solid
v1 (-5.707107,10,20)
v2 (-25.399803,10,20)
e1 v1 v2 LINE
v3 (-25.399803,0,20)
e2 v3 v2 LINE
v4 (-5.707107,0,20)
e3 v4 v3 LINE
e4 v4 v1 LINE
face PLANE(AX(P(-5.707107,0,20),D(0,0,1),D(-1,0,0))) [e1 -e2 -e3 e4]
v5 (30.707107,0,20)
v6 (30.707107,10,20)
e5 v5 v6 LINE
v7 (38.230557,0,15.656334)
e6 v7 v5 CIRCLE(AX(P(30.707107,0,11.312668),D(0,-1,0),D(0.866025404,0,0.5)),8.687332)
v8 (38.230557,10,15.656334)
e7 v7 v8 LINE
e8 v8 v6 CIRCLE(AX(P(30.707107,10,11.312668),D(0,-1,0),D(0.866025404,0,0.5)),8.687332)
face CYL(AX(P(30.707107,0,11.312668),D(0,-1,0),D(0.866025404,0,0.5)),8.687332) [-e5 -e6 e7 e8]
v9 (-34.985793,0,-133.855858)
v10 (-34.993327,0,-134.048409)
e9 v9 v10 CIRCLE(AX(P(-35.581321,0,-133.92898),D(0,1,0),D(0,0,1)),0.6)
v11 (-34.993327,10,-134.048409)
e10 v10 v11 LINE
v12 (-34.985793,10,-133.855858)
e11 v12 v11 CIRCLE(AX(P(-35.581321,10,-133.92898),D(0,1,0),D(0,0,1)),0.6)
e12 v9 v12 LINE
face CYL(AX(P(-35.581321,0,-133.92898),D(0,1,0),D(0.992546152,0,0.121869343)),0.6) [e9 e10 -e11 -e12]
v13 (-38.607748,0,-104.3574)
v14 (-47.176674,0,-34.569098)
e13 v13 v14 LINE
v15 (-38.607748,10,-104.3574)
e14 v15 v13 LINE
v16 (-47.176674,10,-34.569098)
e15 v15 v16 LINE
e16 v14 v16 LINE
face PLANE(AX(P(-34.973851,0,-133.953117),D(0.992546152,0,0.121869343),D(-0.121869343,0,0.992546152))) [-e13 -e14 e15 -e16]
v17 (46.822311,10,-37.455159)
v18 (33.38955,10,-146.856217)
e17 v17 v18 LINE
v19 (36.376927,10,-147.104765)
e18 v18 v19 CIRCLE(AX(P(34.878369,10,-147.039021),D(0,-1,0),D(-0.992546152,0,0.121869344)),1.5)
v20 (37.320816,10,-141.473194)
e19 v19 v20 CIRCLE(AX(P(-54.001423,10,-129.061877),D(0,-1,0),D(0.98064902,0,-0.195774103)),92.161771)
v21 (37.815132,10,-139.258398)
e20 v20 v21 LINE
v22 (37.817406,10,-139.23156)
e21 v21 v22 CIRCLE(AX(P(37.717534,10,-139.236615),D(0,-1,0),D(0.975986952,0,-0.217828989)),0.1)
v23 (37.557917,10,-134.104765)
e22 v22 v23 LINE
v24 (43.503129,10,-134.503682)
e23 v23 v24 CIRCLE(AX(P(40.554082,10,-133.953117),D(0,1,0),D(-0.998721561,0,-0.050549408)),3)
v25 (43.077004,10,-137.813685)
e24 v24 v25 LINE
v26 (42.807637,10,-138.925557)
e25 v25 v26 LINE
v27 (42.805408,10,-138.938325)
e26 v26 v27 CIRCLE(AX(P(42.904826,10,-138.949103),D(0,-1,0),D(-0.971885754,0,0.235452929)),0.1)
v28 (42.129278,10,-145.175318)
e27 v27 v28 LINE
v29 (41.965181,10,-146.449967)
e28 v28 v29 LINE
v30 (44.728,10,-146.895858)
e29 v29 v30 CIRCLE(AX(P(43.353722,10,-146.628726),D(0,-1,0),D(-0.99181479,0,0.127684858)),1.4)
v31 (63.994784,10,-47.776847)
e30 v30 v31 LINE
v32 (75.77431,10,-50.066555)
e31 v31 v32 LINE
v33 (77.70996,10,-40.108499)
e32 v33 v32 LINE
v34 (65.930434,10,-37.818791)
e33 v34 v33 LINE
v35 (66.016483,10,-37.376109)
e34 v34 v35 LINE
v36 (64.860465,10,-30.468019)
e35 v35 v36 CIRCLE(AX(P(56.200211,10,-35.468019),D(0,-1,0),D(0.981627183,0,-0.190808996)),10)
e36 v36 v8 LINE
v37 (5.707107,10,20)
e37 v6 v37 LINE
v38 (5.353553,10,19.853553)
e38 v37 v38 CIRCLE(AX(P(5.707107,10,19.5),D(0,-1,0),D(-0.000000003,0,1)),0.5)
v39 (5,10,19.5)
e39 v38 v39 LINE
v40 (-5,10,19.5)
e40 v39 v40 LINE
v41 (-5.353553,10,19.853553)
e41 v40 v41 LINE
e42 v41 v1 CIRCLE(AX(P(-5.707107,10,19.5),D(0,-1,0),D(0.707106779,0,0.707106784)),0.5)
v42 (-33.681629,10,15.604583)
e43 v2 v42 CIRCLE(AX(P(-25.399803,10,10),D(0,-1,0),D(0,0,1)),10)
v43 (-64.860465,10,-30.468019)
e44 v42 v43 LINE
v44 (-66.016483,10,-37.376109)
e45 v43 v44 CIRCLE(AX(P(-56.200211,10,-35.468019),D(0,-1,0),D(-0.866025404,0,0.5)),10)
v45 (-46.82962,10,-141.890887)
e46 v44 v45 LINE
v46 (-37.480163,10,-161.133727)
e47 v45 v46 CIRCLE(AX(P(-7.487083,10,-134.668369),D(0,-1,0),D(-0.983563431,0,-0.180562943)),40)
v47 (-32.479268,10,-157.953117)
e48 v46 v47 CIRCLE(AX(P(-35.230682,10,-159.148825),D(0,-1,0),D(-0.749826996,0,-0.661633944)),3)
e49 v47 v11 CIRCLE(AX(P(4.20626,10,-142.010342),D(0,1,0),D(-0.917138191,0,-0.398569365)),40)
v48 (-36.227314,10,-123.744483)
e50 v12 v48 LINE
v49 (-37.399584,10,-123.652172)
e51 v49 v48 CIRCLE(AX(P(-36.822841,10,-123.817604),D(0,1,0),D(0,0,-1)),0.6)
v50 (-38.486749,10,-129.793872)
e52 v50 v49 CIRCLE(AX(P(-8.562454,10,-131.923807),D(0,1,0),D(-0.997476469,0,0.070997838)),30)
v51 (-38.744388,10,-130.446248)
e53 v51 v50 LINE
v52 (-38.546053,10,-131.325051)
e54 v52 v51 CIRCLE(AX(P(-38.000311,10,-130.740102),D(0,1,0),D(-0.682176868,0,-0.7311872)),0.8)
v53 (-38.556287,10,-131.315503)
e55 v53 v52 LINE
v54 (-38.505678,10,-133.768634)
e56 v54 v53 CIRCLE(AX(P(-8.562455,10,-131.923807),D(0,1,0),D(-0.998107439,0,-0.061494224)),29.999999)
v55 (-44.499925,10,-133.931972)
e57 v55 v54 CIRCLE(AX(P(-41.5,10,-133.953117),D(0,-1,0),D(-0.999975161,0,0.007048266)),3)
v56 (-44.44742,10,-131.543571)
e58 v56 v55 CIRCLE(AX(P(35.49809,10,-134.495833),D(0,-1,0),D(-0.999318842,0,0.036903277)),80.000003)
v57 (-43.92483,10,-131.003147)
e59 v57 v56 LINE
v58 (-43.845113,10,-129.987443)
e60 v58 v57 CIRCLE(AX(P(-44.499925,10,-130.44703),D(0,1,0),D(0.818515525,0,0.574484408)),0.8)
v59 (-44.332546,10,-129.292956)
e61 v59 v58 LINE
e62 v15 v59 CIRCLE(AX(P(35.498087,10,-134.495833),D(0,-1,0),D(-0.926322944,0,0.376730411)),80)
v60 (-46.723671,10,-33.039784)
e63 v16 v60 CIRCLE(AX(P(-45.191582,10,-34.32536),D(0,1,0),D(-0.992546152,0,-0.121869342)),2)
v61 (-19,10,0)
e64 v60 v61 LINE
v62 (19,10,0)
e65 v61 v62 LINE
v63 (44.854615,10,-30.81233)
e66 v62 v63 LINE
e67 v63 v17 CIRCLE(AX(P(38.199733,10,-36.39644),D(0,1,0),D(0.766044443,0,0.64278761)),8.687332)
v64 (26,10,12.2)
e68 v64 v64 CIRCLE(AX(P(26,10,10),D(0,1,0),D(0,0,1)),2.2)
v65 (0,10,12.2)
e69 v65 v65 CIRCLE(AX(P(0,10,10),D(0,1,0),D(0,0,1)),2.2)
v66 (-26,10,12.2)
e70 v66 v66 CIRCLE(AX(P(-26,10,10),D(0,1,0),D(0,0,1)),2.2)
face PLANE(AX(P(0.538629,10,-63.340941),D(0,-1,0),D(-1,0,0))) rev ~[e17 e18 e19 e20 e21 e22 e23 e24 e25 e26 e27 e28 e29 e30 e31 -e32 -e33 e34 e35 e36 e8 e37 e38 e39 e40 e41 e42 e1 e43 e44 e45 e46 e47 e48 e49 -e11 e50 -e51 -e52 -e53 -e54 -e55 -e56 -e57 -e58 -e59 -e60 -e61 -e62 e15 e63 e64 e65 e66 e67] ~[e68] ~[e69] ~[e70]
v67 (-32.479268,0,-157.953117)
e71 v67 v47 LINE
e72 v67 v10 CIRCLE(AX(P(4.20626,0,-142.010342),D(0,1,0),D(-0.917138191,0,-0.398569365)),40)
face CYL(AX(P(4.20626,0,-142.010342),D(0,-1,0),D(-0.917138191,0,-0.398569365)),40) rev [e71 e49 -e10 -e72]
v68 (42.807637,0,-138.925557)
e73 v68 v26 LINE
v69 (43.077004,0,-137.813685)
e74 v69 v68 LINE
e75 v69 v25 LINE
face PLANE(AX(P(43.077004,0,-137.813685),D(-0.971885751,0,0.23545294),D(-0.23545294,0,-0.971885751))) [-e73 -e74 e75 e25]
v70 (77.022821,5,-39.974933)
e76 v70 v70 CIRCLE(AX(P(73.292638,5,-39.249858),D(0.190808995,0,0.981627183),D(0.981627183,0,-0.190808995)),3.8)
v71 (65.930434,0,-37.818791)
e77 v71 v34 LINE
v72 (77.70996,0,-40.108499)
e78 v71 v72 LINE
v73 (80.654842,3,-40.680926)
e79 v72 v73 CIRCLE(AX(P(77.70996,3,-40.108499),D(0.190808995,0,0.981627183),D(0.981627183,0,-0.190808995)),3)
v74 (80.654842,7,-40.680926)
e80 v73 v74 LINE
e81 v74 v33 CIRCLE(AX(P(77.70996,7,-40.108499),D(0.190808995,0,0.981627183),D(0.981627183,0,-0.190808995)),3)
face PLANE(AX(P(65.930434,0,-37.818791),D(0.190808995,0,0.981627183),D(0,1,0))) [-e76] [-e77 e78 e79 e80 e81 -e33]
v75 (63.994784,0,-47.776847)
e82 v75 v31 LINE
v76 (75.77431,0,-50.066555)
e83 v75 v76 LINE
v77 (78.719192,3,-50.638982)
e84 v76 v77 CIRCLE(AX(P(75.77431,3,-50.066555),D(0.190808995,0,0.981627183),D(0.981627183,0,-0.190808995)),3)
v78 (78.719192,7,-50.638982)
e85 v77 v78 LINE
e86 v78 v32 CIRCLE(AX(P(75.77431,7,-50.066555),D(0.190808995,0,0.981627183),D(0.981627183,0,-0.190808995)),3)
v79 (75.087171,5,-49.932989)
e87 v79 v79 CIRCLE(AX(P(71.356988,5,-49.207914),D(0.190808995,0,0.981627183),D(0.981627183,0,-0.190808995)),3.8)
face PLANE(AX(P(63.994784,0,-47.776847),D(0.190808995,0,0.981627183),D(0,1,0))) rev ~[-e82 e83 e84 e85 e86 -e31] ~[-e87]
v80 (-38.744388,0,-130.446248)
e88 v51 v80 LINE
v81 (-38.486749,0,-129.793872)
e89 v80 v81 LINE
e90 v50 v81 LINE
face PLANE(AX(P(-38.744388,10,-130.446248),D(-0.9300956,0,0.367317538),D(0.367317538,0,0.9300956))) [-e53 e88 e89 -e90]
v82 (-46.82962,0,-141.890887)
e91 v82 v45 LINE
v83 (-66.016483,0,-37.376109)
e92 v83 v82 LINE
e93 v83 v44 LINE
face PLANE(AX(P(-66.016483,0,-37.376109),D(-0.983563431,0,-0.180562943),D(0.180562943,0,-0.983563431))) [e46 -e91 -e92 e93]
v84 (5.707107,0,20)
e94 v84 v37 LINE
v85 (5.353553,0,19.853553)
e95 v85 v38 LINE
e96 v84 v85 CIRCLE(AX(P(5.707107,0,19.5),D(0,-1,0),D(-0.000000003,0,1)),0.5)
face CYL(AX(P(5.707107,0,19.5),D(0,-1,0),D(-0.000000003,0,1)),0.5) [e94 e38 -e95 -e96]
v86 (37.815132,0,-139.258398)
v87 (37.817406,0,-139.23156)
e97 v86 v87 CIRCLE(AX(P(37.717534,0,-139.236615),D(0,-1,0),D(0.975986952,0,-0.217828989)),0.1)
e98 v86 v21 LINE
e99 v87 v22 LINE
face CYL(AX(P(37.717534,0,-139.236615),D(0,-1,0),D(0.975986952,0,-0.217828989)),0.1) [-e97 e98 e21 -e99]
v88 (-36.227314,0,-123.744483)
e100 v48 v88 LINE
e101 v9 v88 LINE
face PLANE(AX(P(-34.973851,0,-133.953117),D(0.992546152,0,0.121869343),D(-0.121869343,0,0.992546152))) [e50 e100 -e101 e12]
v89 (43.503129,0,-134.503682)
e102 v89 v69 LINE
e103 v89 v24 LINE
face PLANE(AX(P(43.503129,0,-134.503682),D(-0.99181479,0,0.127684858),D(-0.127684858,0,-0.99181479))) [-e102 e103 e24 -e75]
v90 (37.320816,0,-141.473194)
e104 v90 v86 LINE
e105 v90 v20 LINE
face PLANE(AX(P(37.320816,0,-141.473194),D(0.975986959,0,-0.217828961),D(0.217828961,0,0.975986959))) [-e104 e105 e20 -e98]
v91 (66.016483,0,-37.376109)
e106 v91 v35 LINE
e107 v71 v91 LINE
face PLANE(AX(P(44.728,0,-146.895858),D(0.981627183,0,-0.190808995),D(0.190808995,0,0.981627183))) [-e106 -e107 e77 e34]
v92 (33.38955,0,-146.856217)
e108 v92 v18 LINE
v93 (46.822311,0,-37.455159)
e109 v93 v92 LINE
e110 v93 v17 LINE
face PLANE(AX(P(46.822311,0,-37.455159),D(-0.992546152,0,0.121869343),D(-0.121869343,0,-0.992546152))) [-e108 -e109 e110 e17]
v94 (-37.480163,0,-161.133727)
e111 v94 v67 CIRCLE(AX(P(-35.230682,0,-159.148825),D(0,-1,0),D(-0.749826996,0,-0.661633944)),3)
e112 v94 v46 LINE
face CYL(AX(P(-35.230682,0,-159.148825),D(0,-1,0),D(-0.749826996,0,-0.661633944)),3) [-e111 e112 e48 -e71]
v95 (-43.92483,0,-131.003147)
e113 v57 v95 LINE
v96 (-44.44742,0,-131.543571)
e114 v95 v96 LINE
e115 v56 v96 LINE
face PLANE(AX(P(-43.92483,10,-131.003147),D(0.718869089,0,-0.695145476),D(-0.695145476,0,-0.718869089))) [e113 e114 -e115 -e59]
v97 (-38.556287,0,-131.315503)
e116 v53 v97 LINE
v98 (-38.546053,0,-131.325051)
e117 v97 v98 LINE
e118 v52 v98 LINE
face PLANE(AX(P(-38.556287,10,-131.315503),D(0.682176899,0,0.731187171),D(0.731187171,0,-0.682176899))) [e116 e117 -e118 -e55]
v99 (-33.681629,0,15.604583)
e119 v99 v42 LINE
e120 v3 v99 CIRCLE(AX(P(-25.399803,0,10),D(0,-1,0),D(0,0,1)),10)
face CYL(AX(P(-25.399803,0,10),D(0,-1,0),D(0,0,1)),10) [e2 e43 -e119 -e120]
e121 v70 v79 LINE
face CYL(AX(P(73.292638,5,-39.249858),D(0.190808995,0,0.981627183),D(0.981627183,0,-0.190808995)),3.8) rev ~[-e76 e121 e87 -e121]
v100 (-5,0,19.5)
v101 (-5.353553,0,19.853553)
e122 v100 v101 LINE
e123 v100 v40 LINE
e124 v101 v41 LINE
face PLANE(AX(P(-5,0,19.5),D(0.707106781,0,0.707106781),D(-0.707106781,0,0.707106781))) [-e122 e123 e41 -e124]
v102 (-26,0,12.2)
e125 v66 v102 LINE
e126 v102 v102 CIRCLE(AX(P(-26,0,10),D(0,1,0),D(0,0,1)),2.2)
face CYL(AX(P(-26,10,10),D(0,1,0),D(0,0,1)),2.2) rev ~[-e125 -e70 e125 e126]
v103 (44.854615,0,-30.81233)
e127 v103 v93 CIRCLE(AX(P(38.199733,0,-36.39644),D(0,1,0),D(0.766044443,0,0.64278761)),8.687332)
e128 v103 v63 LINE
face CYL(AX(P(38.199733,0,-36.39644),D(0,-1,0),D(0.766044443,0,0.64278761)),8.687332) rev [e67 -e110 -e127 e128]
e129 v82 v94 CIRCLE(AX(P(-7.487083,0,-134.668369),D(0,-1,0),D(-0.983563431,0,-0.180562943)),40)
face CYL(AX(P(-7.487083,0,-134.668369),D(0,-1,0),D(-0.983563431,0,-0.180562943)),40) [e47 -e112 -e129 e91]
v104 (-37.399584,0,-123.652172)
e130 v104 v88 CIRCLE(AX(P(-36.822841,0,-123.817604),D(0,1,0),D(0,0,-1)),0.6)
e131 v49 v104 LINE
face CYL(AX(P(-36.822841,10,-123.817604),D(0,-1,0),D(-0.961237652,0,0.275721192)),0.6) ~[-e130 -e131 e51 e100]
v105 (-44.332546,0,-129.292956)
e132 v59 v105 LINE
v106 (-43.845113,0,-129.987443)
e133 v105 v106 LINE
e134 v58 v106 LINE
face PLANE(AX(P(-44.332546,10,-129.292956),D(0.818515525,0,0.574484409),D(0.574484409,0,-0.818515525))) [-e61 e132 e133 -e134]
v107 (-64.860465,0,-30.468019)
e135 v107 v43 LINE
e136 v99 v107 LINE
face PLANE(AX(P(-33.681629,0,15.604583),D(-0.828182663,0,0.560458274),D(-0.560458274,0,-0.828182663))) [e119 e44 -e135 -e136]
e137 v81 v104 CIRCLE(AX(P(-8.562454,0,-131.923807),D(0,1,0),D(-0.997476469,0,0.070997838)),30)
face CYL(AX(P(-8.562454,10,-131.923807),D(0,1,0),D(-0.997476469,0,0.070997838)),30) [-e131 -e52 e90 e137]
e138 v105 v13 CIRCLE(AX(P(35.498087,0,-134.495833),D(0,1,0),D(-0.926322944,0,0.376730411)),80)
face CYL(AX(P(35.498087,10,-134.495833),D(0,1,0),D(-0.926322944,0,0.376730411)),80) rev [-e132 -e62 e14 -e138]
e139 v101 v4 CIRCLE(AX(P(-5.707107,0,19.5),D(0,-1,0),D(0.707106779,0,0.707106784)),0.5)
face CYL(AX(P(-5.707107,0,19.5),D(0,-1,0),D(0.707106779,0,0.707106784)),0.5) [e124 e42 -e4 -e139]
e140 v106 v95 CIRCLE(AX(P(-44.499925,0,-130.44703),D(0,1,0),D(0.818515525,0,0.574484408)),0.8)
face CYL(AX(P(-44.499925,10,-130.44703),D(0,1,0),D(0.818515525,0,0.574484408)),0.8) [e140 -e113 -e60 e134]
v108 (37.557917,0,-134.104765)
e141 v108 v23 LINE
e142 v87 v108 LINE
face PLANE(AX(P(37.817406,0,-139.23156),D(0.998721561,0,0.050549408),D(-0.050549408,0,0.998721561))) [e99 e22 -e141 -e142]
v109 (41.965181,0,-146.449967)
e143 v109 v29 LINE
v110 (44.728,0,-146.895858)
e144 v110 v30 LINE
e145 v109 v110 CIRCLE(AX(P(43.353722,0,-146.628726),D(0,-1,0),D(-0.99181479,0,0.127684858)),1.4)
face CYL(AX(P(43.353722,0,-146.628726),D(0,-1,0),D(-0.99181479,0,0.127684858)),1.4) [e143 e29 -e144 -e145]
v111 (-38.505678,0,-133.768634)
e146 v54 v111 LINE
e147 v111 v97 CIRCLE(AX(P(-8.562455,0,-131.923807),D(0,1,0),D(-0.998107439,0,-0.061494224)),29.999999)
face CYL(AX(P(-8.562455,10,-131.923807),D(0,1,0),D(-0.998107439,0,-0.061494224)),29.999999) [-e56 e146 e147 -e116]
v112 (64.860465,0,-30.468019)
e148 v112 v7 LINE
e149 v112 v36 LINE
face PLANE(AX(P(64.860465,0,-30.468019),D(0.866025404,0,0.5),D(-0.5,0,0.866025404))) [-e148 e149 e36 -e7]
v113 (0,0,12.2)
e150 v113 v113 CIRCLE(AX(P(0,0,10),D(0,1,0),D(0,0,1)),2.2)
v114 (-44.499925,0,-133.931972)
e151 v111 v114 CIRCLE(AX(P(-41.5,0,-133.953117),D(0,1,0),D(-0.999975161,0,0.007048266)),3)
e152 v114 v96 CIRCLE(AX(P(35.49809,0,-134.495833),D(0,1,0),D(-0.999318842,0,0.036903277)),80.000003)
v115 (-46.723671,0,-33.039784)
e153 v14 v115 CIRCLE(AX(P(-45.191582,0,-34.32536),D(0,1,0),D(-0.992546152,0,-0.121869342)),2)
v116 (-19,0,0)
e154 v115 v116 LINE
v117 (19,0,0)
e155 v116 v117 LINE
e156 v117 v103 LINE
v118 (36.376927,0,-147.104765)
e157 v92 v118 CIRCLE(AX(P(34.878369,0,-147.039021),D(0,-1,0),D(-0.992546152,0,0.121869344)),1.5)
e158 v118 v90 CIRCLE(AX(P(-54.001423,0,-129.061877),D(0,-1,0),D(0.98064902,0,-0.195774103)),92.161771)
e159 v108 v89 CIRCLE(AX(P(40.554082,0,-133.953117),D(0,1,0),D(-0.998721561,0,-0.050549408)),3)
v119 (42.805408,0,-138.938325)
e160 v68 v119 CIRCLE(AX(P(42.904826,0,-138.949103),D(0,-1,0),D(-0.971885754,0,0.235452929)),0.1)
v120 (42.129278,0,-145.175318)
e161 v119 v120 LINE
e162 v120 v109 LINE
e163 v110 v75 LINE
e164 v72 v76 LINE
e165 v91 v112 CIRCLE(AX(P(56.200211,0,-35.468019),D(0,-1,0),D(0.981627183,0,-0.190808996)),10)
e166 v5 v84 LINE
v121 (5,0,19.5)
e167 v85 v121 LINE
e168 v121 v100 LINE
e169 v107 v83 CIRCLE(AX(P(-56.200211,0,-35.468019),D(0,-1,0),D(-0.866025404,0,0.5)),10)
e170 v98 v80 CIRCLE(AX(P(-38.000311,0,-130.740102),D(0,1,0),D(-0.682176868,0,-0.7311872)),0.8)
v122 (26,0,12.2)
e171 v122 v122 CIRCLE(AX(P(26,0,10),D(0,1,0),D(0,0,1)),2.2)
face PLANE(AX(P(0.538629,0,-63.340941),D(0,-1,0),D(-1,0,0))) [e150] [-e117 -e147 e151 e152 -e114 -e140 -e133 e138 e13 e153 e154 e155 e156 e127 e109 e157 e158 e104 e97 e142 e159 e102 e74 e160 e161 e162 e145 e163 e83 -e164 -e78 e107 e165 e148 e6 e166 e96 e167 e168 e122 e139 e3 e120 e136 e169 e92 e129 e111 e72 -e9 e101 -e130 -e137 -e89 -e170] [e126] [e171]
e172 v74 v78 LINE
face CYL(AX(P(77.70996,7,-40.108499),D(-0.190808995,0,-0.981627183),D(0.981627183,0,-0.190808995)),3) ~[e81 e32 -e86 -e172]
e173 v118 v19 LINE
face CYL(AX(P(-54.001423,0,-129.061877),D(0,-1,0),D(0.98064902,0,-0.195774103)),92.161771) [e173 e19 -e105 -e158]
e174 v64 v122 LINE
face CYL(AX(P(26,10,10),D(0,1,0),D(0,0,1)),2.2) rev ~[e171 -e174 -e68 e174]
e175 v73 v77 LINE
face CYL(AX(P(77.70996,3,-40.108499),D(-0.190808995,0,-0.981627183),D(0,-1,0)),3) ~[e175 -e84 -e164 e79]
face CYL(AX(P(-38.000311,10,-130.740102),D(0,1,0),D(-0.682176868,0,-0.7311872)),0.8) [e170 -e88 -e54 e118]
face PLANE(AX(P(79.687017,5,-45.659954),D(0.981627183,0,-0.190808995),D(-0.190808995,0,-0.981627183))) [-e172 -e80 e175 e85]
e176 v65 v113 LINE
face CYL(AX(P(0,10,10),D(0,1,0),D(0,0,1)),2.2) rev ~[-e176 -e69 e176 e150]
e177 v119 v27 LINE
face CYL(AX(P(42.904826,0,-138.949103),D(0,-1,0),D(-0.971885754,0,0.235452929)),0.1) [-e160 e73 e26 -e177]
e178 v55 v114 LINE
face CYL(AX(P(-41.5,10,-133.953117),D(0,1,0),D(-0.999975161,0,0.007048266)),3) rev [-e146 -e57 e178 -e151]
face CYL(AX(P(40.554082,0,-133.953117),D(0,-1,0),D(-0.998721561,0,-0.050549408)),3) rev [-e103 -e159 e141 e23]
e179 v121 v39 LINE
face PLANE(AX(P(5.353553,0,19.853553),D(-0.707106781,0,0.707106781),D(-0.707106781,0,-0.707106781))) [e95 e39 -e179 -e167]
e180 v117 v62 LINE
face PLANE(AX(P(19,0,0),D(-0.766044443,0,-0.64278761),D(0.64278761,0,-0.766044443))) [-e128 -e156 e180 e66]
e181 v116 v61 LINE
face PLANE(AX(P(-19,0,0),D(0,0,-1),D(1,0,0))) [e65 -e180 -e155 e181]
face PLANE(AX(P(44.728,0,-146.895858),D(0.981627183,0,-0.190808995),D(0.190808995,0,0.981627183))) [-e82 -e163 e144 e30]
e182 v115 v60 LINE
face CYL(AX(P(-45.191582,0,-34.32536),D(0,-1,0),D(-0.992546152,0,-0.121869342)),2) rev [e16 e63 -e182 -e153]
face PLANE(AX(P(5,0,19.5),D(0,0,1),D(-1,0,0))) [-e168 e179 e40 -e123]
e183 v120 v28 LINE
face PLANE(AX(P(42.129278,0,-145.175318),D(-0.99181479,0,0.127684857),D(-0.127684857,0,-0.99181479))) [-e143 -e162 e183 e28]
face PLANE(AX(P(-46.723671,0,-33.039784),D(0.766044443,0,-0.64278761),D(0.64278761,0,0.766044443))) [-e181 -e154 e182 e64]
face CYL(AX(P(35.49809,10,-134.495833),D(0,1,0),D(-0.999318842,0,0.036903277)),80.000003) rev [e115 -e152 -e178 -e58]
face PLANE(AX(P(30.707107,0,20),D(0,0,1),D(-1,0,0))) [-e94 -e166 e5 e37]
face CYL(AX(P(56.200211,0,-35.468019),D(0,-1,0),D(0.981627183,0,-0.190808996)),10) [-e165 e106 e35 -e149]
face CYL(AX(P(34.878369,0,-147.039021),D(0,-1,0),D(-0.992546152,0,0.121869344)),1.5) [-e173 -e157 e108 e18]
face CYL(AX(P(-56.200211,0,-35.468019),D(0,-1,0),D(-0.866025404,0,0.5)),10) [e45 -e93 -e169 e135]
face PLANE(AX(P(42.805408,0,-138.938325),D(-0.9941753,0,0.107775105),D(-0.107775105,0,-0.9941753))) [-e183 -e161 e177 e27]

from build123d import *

# Parameters (mm, degrees)
EXTRUDE_1_DEPTH     = 10
CUT_EXTRUDE_1_REACH = 177.427
SKETCH_2_R          = 2.2
FILLET_1_R          = 0.6
SKETCH_3_W          = 10.144437824
SKETCH_3_H          = 10
EXTRUDE_2_DEPTH     = 15
CUT_EXTRUDE_2_REACH = 164.61
SKETCH_4_R          = 3.8
FILLET_2_R          = 3


with BuildPart() as part:
    # 草图1 → 凸台-拉伸1 (new body)
    with BuildSketch(Plane(origin=(0, 0, 0), x_dir=(1, 0, 0), z_dir=(0, 1, 0))):
        with BuildLine():
            Line((-19, 0), (19, 0))
            Line((19, 0), (44.854614973, 30.81233028))
            ThreePointArc((44.854614973, 30.81233028), (46.529317931, 33.929104052), (46.82231051, 37.455159084))
            Line((46.82231051, 37.455159084), (33.389549678, 146.856216784))
            ThreePointArc((33.389549678, 146.856216784), (34.753999407, 148.533855984), (36.376927445, 147.104765038))
            ThreePointArc((36.376927445, 147.104765038), (36.892496808, 144.296291333), (37.320815542, 141.473193853))
            Line((37.320815542, 141.473193853), (37.815132232, 139.258398169))
            ThreePointArc((37.815132232, 139.258398169), (37.817176658, 139.245056143), (37.817405692, 139.231560332))
            Line((37.817405692, 139.231560332), (37.557917484, 134.104765038))
            ThreePointArc((37.557917484, 134.104765038), (40.754926912, 130.959847465), (43.503129215, 134.503681536))
            Line((43.503129215, 134.503681536), (43.077003941, 137.813685213))
            Line((43.077003941, 137.813685213), (42.807637334, 138.925557366))
            ThreePointArc((42.807637334, 138.925557366), (42.806315787, 138.931905108), (42.80540838, 138.938325149))
            Line((42.80540838, 138.938325149), (42.129277547, 145.175318139))
            Line((42.129277547, 145.175318139), (41.965181023, 146.44996701))
            ThreePointArc((41.965181023, 146.44996701), (43.130662006, 148.010841711), (44.727999785, 146.895858405))
            Line((44.727999785, 146.895858405), (66.016482503, 37.376109146))
            ThreePointArc((66.016482503, 37.376109146), (66.063066684, 33.817543133), (64.860464706, 30.468019192))
            Line((64.860464706, 30.468019192), (38.23055697, -15.656334008))
            ThreePointArc((38.23055697, -15.656334008), (35.050772773, -18.836118205), (30.707106781, -20))
            Line((30.707106781, -20), (5.707106781, -20))
            ThreePointArc((5.707106781, -20), (5.515765065, -19.961939766), (5.353553391, -19.853553391))
            Line((5.353553391, -19.853553391), (5, -19.5))
            Line((5, -19.5), (-5, -19.5))
            Line((-5, -19.5), (-5.353553391, -19.853553391))
            ThreePointArc((-5.353553391, -19.853553391), (-5.515765065, -19.961939766), (-5.707106781, -20))
            Line((-5.707106781, -20), (-25.399802658, -20))
            ThreePointArc((-25.399802658, -20), (-30.087775174, -18.833058003), (-33.681629288, -15.604582738))
            Line((-33.681629288, -15.604582738), (-64.860464706, 30.468019192))
            ThreePointArc((-64.860464706, 30.468019192), (-66.063066684, 33.817543133), (-66.016482503, 37.376109146))
            Line((-66.016482503, 37.376109146), (-46.829620455, 141.890886738))
            ThreePointArc((-46.829620455, 141.890886738), (-43.465252598, 152.148967586), (-37.480163066, 161.13372674))
            ThreePointArc((-37.480163066, 161.13372674), (-33.620696298, 161.680216975), (-32.479267504, 157.953116813))
            ThreePointArc((-32.479267504, 157.953116813), (-35.579400499, 146.14570295), (-34.973851142, 133.953116813))
            Line((-34.973851142, 133.953116813), (-47.176674229, 34.569098196))
            ThreePointArc((-47.176674229, 34.569098196), (-47.109221395, 33.75732882), (-46.723670812, 33.03978429))
            Line((-46.723670812, 33.03978429), (-19, 0))
        make_face()
    extrude(amount=EXTRUDE_1_DEPTH)

    # 草图2 → 切除-拉伸1 (cut, up to next)
    with BuildSketch(Plane(origin=(0, 10, 0), x_dir=(1, 0, 0), z_dir=(0, 1, 0)), mode=Mode.PRIVATE) as cut_extrude_1_sk1:
        with Locations(Location((0, -10, 0), (0, 0, 270))):
            Circle(SKETCH_2_R)
    cut_extrude_1_tool1 = extrude(cut_extrude_1_sk1.sketch, amount=-CUT_EXTRUDE_1_REACH, mode=Mode.PRIVATE) & part.part
    # 草图2 → 切除-拉伸1 (cut, up to next)
    with BuildSketch(Plane(origin=(0, 10, 0), x_dir=(1, 0, 0), z_dir=(0, 1, 0)), mode=Mode.PRIVATE) as cut_extrude_1_sk2:
        with Locations(Location((-26, -10, 0), (0, 0, 270))):
            Circle(SKETCH_2_R)
    cut_extrude_1_tool2 = extrude(cut_extrude_1_sk2.sketch, amount=-CUT_EXTRUDE_1_REACH, mode=Mode.PRIVATE) & part.part
    # 草图2 → 切除-拉伸1 (cut, up to next)
    with BuildSketch(Plane(origin=(0, 10, 0), x_dir=(1, 0, 0), z_dir=(0, 1, 0)), mode=Mode.PRIVATE) as cut_extrude_1_sk3:
        with Locations(Location((26, -10, 0), (0, 0, 270))):
            Circle(SKETCH_2_R)
    cut_extrude_1_tool3 = extrude(cut_extrude_1_sk3.sketch, amount=-CUT_EXTRUDE_1_REACH, mode=Mode.PRIVATE) & part.part
    # 草图2 → 切除-拉伸1 (cut, up to next)
    with BuildSketch(Plane(origin=(0, 10, 0), x_dir=(1, 0, 0), z_dir=(0, 1, 0)), mode=Mode.PRIVATE) as cut_extrude_1_sk4:
        with BuildLine():
            Line((-36.549558395, 121.120011078), (-38.607748185, 104.35740041))
            ThreePointArc((-38.607748185, 104.35740041), (-42.47341142, 116.594845153), (-44.332546284, 129.292956179))
            Line((-44.332546284, 129.292956179), (-43.845113062, 129.987442667))
            ThreePointArc((-43.845113062, 129.987442667), (-43.702378092, 130.509625408), (-43.924830211, 131.003146575))
            Line((-43.924830211, 131.003146575), (-44.447419993, 131.543571067))
            ThreePointArc((-44.447419993, 131.543571067), (-44.482588605, 132.737575539), (-44.499925482, 133.931972015))
            ThreePointArc((-44.499925482, 133.931972015), (-41.418283025, 136.952003662), (-38.505677682, 133.768634142))
            ThreePointArc((-38.505677682, 133.768634142), (-38.556072369, 132.542586282), (-38.556286633, 131.315503182))
            Line((-38.556286633, 131.315503182), (-38.546052546, 131.325051295))
            ThreePointArc((-38.546052546, 131.325051295), (-38.780683801, 130.91622187), (-38.744387532, 130.446247504))
            Line((-38.744387532, 130.446247504), (-38.486748585, 129.793872308))
            ThreePointArc((-38.486748585, 129.793872308), (-37.841140795, 125.384806825), (-36.549558395, 121.120011078))
        make_face()
    cut_extrude_1_tool4 = extrude(cut_extrude_1_sk4.sketch, amount=-CUT_EXTRUDE_1_REACH, mode=Mode.PRIVATE) & part.part
    add(cut_extrude_1_tool1.solids().sort_by_distance((0, 10, 10))[0], mode=Mode.SUBTRACT)
    add(cut_extrude_1_tool2.solids().sort_by_distance((-26, 10, 10))[0], mode=Mode.SUBTRACT)
    add(cut_extrude_1_tool3.solids().sort_by_distance((26, 10, 10))[0], mode=Mode.SUBTRACT)
    add(cut_extrude_1_tool4.solids().sort_by_distance((-40.502089, 10, -123.156617))[0], mode=Mode.SUBTRACT)

    # 圆角1
    fillet_1_edges = [part.edges().sort_by_distance(p)[0] for p in [
        (-36.549558395, 5, -121.120011078),
        (-34.973851142, 5, -133.953116813),
    ]]
    fillet(fillet_1_edges, radius=FILLET_1_R)

    # 草图3 → 凸台-拉伸2 (add)
    with BuildSketch(Plane(origin=(70.613618069, 0, -13.725896909), x_dir=(-0.19080899537654988, 0, -0.9816271834476631), z_dir=(0.9816271834476631, 0, -0.19080899537654988))):
        with Locations((29.616052291, 5)):
            Rectangle(SKETCH_3_W, SKETCH_3_H)
    extrude(amount=EXTRUDE_2_DEPTH)

    # 草图4 → 切除-拉伸2 (cut, up to next)
    with BuildSketch(Plane(origin=(-4.68318419, 0, -24.092894031), x_dir=(0.981627183447663, 0, -0.19080899537654997), z_dir=(0.19080899537654997, 0, 0.981627183447663)), mode=Mode.PRIVATE) as cut_extrude_2_sk1:
        with Locations((79.435271618, 5)):
            Circle(SKETCH_4_R)
    cut_extrude_2_tool1 = extrude(cut_extrude_2_sk1.sketch, amount=-CUT_EXTRUDE_2_REACH, mode=Mode.PRIVATE) & part.part
    add(cut_extrude_2_tool1.solids().sort_by_distance((73.292638, 5, -39.249858))[0], mode=Mode.SUBTRACT)

    # 圆角2
    fillet_2_edges = [part.edges().sort_by_distance(p)[0] for p in [
        (79.687016636, 0, -45.659953836),
        (79.687016636, 10, -45.659953836),
    ]]
    fillet(fillet_2_edges, radius=FILLET_2_R)


solid = part.part
